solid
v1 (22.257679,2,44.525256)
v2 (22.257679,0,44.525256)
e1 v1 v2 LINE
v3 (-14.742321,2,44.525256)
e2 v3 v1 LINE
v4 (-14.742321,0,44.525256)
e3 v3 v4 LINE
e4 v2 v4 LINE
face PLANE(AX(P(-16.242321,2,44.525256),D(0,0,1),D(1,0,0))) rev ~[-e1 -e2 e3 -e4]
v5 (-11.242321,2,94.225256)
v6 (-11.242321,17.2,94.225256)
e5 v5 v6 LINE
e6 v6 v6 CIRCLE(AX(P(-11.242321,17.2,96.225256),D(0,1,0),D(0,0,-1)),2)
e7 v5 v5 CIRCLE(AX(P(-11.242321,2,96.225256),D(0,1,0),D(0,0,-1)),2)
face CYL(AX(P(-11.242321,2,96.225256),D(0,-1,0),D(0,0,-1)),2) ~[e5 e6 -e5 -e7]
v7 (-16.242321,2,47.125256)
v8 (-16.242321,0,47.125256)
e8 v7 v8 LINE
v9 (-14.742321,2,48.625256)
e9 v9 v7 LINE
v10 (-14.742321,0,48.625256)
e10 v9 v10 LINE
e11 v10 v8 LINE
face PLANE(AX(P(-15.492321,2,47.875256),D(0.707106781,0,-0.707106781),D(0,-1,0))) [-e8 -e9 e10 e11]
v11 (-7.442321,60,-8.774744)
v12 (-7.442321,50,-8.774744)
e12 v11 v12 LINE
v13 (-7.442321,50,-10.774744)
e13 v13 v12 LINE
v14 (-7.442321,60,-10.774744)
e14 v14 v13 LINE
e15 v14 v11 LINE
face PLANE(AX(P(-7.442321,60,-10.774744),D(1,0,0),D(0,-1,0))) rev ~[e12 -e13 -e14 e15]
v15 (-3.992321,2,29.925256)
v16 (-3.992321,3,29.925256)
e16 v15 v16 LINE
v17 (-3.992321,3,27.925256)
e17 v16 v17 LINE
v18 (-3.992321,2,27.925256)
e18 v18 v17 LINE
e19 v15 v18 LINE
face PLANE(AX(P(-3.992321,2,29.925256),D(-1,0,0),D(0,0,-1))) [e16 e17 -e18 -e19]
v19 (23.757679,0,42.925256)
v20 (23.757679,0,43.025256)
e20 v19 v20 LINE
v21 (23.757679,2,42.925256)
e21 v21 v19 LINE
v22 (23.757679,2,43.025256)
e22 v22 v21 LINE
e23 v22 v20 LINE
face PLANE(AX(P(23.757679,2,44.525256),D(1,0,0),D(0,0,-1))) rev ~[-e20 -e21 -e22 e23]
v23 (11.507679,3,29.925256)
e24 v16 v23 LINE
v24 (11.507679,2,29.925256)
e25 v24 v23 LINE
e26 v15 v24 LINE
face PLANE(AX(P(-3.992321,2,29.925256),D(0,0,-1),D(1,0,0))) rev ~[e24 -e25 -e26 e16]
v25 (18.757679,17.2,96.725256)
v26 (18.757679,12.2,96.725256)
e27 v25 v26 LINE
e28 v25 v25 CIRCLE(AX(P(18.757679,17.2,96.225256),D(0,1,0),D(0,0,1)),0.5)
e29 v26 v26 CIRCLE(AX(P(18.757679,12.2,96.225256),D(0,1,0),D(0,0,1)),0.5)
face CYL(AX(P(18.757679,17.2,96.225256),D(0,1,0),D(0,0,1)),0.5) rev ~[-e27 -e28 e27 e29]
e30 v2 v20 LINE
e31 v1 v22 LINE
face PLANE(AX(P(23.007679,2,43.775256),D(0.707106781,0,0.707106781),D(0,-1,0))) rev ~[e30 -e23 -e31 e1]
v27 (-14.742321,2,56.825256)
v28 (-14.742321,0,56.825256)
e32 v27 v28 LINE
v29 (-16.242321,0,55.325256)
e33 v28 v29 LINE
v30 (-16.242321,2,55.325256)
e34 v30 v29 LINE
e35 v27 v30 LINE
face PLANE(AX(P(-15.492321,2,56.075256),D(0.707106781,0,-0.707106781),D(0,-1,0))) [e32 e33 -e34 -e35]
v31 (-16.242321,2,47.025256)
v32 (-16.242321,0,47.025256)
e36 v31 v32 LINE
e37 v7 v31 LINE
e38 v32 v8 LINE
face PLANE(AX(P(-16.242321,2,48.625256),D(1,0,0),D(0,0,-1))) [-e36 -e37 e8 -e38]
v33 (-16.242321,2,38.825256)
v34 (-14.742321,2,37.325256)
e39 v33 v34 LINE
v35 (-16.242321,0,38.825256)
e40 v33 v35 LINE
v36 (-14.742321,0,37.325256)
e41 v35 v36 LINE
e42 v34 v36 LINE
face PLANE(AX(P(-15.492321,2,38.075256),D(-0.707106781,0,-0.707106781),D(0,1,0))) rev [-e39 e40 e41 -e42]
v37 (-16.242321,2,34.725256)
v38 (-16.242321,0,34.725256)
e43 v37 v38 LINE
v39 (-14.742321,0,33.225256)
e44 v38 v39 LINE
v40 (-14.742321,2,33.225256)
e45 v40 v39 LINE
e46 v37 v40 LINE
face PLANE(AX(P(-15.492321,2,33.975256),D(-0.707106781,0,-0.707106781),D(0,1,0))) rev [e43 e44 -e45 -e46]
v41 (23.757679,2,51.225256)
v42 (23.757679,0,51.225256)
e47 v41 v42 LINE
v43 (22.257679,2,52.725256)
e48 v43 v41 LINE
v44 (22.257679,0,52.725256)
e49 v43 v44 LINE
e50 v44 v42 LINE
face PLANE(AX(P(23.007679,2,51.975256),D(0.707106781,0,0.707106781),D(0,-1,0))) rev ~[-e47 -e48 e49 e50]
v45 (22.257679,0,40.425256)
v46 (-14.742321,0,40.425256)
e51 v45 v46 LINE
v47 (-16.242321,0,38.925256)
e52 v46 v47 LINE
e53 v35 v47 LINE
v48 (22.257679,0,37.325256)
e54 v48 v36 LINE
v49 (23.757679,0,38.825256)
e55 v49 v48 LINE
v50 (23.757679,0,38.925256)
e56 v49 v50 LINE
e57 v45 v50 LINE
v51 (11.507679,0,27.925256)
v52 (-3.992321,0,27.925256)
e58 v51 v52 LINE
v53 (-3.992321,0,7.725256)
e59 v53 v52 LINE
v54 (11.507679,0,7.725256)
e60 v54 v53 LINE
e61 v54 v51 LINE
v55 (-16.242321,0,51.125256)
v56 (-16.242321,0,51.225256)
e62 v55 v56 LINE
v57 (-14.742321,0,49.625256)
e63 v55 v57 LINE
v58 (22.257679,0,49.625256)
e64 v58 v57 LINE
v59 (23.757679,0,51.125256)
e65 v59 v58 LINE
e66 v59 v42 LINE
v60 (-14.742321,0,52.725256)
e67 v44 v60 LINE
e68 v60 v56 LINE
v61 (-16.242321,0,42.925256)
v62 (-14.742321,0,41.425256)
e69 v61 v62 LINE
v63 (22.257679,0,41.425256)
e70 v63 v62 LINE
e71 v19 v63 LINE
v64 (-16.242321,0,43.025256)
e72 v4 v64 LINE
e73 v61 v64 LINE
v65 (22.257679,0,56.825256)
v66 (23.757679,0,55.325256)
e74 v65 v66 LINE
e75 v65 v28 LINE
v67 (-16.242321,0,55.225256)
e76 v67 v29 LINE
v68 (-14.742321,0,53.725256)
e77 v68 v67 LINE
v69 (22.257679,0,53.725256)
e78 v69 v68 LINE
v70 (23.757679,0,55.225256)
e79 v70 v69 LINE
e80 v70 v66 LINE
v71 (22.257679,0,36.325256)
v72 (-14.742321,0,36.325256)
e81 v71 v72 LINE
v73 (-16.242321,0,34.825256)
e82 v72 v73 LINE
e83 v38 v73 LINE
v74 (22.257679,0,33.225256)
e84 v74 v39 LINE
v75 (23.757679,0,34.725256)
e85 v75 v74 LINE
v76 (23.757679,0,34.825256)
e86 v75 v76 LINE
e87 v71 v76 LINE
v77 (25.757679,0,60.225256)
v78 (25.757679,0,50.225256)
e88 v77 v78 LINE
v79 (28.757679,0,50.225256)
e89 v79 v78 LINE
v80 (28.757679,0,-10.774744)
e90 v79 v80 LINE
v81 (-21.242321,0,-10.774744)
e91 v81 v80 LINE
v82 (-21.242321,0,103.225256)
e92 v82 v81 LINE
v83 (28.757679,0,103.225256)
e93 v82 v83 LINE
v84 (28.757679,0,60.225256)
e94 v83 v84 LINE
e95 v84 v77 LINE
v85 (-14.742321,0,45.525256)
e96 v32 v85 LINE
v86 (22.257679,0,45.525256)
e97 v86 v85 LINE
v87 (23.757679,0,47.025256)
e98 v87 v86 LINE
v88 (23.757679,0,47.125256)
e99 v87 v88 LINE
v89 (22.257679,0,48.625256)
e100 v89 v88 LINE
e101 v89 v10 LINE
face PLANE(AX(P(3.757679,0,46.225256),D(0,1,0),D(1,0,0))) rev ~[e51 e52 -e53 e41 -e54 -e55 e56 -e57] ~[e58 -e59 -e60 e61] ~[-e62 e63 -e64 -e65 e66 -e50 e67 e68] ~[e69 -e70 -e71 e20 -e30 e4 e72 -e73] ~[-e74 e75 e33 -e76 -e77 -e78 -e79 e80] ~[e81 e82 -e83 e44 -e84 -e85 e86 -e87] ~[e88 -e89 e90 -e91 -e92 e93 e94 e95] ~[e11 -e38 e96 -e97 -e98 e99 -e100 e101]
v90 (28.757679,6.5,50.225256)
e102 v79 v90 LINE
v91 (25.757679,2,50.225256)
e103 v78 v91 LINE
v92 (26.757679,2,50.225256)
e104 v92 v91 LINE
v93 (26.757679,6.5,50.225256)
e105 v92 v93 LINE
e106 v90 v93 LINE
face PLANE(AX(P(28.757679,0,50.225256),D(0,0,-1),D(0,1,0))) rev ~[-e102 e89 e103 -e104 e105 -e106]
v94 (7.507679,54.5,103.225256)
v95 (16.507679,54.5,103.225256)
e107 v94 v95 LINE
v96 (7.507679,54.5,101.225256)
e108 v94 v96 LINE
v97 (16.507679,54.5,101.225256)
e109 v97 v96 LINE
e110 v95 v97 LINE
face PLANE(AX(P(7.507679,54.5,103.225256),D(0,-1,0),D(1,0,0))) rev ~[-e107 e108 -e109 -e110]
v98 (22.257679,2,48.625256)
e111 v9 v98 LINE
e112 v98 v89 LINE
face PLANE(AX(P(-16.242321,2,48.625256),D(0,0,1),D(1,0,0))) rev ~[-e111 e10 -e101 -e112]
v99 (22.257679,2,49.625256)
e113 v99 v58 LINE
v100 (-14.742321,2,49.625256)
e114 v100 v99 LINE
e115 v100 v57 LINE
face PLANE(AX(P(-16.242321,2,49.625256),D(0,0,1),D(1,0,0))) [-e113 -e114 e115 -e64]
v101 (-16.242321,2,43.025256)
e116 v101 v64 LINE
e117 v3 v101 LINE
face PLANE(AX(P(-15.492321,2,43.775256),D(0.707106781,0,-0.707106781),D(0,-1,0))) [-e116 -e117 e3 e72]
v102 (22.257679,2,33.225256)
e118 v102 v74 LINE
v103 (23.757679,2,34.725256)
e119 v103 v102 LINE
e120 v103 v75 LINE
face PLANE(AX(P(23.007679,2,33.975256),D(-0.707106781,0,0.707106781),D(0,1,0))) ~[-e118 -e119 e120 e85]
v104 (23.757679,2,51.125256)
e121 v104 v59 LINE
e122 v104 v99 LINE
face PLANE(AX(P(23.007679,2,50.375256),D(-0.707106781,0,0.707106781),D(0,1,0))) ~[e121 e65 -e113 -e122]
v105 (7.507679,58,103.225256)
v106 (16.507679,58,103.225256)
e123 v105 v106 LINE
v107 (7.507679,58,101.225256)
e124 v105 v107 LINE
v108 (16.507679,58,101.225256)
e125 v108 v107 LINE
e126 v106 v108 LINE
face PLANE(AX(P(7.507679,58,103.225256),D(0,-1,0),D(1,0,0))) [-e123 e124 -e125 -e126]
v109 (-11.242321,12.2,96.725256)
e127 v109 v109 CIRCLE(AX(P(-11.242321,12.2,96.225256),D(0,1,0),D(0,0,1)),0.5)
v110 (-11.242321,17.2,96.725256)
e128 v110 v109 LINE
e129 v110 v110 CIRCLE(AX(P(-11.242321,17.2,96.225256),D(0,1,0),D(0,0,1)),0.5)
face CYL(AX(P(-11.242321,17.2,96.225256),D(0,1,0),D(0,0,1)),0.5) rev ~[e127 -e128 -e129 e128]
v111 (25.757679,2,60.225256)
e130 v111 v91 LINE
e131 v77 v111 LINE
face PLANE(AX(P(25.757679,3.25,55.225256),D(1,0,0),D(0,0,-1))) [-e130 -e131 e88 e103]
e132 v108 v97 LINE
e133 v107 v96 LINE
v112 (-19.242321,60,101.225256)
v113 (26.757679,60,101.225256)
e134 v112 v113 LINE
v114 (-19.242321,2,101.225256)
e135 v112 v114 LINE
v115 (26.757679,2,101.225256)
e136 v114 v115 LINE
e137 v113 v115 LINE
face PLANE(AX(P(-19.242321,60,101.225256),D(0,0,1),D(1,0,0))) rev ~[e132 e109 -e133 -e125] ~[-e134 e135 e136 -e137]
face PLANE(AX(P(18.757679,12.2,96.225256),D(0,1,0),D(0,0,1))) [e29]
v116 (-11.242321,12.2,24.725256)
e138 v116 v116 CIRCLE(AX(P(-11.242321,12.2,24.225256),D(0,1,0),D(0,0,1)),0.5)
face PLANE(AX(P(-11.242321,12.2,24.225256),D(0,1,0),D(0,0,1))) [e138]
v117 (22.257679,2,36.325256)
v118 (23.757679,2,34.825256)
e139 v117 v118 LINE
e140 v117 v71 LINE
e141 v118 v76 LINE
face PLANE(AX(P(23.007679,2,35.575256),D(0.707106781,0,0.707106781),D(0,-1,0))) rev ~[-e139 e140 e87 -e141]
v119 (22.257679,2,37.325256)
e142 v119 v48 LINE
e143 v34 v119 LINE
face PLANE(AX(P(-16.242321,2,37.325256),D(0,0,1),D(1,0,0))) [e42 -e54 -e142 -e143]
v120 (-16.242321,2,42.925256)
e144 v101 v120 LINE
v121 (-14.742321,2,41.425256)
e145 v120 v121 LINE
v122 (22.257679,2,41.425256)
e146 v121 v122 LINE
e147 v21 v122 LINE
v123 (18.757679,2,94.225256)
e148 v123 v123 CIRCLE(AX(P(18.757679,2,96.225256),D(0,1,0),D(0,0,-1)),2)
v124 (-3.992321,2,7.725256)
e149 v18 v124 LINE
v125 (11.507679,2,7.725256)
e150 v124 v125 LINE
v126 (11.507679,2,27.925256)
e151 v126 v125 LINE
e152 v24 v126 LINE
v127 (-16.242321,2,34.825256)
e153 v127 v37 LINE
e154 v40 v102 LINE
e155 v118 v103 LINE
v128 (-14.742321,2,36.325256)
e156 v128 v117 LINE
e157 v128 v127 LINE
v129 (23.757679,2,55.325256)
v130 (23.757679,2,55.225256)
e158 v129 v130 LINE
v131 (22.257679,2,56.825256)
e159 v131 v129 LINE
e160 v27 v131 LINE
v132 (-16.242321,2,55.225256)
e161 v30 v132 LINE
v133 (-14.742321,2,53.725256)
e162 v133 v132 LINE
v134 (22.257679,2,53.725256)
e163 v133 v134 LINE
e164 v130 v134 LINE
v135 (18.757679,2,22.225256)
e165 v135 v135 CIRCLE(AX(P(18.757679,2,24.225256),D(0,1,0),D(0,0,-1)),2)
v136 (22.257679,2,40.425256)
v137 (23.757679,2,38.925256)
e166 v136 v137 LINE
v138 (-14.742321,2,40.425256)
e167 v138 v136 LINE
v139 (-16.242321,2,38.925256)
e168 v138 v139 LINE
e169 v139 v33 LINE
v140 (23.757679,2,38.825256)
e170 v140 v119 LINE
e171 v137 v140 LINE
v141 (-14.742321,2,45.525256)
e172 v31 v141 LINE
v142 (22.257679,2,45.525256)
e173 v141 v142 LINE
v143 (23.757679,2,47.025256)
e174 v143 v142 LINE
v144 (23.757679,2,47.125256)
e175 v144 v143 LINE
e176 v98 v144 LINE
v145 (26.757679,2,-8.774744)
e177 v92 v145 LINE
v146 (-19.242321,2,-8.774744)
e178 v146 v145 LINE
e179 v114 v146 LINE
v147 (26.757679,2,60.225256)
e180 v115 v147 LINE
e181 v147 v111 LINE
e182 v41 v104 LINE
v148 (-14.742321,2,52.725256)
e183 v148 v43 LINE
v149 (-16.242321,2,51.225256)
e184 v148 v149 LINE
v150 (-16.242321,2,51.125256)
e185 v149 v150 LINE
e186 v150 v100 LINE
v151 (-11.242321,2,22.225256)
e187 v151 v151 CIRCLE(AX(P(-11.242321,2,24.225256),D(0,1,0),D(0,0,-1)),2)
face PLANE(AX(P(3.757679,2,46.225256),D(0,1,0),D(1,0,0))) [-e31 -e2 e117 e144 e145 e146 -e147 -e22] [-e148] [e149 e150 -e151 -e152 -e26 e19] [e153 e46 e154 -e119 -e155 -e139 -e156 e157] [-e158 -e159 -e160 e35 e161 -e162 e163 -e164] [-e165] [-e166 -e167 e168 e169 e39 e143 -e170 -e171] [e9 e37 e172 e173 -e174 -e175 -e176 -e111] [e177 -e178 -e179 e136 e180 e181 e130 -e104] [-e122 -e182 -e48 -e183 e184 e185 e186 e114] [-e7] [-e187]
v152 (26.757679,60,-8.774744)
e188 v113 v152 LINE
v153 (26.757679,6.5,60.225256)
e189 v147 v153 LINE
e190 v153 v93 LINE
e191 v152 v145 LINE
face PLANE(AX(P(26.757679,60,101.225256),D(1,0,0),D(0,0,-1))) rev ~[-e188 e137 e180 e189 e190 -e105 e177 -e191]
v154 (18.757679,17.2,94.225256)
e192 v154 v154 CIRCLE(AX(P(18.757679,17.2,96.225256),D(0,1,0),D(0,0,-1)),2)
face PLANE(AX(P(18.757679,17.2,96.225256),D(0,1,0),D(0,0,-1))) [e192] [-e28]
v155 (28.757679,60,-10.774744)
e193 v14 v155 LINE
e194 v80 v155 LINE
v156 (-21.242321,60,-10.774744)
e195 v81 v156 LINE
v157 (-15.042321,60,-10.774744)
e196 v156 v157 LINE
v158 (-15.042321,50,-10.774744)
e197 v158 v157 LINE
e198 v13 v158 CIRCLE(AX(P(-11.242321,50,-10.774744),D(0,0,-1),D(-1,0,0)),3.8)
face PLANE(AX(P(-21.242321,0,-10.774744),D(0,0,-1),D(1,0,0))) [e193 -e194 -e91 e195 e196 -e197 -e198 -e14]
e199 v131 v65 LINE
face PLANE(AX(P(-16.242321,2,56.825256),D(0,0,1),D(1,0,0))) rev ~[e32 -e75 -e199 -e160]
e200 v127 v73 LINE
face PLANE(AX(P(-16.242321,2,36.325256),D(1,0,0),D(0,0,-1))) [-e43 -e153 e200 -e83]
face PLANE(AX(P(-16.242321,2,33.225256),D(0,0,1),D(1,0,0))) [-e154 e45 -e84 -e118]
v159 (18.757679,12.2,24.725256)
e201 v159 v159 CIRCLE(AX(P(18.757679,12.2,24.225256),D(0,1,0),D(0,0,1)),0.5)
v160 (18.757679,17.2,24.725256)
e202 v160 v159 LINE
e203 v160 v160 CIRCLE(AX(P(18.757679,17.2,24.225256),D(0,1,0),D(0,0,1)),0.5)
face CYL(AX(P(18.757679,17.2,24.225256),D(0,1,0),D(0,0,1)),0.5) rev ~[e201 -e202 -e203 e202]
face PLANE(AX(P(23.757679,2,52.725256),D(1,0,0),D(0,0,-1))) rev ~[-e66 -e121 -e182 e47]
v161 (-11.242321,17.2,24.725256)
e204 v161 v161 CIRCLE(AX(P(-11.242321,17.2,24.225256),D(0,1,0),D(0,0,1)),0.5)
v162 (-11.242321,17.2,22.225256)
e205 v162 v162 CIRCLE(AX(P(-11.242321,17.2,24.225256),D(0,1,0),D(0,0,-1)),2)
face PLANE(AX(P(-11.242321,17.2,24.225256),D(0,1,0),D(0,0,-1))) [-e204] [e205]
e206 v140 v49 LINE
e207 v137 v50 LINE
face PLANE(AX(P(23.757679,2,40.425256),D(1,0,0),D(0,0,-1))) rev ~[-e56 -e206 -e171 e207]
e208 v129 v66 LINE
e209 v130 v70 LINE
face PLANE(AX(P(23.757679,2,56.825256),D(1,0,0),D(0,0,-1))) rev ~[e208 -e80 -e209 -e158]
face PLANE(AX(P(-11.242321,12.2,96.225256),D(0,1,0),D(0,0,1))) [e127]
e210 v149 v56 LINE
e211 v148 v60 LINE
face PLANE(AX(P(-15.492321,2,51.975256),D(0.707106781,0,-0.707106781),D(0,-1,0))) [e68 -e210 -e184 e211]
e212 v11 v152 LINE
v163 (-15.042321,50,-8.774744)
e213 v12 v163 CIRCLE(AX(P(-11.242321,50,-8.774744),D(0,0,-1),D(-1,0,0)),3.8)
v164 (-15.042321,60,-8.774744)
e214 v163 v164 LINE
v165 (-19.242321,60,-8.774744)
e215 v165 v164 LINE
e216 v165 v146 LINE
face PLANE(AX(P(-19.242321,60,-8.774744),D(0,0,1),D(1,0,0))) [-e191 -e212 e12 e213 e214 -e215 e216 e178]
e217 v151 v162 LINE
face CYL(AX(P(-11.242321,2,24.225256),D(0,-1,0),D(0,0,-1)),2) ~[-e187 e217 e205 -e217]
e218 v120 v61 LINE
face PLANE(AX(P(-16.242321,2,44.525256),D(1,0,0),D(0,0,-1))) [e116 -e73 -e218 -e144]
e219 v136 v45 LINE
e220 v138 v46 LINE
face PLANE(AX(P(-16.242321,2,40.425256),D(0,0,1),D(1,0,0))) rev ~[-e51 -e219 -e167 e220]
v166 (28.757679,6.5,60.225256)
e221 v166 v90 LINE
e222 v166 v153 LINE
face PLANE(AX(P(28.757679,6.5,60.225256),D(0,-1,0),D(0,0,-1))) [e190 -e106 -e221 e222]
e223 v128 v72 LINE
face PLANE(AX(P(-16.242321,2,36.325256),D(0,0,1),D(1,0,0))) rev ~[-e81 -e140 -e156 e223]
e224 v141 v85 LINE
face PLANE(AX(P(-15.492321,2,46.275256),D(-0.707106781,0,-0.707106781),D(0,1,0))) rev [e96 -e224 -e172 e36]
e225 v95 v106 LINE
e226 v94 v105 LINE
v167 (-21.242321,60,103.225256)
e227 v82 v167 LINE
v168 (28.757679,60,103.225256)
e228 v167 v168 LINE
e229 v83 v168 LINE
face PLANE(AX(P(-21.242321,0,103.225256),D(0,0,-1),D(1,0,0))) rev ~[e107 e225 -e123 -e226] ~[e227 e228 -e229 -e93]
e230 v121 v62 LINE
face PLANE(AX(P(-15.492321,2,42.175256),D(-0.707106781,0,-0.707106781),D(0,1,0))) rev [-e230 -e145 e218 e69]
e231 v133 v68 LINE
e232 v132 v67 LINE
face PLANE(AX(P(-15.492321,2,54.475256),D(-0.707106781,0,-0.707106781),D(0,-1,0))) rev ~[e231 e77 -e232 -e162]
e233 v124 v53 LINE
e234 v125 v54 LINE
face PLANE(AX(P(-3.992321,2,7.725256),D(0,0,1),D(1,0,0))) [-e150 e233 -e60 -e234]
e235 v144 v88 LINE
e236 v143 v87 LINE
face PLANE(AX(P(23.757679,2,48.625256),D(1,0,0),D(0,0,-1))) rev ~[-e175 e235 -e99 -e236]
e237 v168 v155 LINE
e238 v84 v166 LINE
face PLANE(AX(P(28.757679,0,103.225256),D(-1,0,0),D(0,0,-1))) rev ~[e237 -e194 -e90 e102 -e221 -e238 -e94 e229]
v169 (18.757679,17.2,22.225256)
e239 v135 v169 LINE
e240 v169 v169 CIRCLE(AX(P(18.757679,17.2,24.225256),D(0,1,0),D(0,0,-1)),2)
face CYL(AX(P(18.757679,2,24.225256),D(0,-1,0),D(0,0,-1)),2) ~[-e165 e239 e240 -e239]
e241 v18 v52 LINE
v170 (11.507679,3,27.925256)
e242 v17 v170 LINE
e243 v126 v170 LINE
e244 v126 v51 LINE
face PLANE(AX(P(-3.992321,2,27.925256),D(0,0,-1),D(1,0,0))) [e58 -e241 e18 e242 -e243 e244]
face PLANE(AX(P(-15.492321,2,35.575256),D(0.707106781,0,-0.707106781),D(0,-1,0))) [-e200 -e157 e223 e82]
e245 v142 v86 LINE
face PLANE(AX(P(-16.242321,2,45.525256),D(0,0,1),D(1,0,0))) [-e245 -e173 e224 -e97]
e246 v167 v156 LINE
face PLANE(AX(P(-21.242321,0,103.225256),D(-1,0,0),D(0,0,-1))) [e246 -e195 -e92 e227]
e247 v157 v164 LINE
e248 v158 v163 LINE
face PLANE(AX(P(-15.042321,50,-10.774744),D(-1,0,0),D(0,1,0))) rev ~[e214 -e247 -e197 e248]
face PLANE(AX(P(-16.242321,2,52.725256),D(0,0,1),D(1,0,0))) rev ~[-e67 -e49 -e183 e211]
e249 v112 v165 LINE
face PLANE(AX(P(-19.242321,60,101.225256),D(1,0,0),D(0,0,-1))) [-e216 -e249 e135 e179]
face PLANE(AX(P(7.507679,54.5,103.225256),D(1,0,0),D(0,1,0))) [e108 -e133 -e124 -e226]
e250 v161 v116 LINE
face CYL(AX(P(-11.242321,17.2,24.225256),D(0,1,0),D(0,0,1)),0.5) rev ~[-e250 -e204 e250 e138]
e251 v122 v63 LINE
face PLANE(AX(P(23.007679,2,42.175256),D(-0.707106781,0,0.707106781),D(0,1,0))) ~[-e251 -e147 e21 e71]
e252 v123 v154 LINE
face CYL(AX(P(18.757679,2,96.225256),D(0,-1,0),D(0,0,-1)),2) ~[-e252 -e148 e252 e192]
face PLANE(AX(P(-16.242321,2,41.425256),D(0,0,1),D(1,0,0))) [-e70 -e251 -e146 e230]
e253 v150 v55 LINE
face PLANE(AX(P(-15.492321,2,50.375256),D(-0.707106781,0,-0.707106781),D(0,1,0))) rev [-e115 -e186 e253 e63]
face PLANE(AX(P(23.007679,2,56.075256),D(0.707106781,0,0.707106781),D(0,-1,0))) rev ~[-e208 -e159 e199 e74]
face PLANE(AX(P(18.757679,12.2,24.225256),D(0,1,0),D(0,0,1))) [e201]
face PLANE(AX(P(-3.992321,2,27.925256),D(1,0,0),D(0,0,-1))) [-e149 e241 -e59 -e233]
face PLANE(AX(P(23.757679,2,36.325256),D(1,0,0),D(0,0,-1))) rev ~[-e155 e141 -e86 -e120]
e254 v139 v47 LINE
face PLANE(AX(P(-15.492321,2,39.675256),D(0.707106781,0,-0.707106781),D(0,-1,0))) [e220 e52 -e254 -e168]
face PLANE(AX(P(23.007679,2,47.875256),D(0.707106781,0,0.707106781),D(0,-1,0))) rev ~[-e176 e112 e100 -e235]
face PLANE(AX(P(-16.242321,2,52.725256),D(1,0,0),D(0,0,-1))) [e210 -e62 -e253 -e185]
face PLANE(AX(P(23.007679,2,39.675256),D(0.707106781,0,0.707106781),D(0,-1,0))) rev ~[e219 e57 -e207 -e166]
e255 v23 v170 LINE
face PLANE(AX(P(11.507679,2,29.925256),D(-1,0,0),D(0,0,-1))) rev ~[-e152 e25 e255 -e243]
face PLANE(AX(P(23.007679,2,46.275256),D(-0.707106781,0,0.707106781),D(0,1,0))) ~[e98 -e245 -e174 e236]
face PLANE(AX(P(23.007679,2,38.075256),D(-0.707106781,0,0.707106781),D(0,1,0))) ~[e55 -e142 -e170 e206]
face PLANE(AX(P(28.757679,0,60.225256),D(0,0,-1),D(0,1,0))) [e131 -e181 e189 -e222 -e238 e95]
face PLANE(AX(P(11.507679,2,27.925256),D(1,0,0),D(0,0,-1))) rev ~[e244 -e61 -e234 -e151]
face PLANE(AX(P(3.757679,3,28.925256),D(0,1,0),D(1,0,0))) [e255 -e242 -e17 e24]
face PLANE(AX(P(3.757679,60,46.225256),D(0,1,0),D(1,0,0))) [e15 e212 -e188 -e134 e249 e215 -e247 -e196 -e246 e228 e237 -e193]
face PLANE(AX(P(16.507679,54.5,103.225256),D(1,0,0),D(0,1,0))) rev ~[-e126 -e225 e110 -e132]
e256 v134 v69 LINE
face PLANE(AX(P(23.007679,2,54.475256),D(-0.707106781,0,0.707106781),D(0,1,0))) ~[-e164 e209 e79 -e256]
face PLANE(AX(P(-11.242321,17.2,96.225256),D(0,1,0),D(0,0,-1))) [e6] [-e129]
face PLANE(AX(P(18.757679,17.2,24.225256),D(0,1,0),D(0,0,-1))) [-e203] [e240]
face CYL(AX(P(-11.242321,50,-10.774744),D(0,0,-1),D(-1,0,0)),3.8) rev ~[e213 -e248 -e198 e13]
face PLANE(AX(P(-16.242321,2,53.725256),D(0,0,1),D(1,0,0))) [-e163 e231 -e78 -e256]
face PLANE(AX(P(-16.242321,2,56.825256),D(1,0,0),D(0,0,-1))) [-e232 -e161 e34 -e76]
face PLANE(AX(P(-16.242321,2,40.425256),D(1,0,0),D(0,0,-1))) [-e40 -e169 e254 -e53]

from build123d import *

# Parameters (mm, degrees)
SKIZZE1_W                       = 50
SKIZZE1_H                       = 114
AUFSATZ_LINEAR_AUSTRAGEN1_DEPTH = 60
SKIZZE2_W                       = 46
SKIZZE2_H                       = 110
SCHNITT_LINEAR_AUSTRAGEN1_DEPTH = 58
SKIZZE3_R                       = 2
AUFSATZ_LINEAR_AUSTRAGEN2_DEPTH = 15.2
SKIZZE4_R                       = 0.5
SCHNITT_LINEAR_AUSTRAGEN2_DEPTH = 5
SCHNITT_LINEAR_AUSTRAGEN3_REACH = 123.846
SKIZZE5_W                       = 15.5
SKIZZE5_H                       = 20.2
SKIZZE6_W                       = 15.5
SKIZZE6_H                       = 2
AUFSATZ_LINEAR_AUSTRAGEN3_DEPTH = 1
SCHNITT_LINEAR_AUSTRAGEN4_REACH = 123.846
SKIZZE7_W                       = 40
SKIZZE7_H                       = 3.1
FASE1_SIZE                      = 1.5
SKIZZE8_W                       = 10
SKIZZE8_H                       = 6.5
SCHNITT_LINEAR_AUSTRAGEN5_DEPTH = 3
SCHNITT_LINEAR_AUSTRAGEN6_REACH = 133.996
SKIZZE9_R                       = 3.8
SCHNITT_LINEAR_AUSTRAGEN7_REACH = 133.996
SKIZZE10_W                      = 9
SKIZZE10_H                      = 3.5


with BuildPart() as part:
    # Skizze1 → Aufsatz-Linear austragen1 (new body)
    with BuildSketch(Plane(origin=(0, 0, 0), x_dir=(1, 0, 0), z_dir=(0, 1, 0))):
        with Locations((3.757679181, -46.225255973)):
            Rectangle(SKIZZE1_W, SKIZZE1_H)
    extrude(amount=AUFSATZ_LINEAR_AUSTRAGEN1_DEPTH)

    # Skizze2 → Schnitt-Linear austragen1 (cut)
    with BuildSketch(Plane(origin=(0, 60, 0), x_dir=(1, 0, 0), z_dir=(0, 1, 0))):
        with Locations((3.757679181, -46.225255973)):
            Rectangle(SKIZZE2_W, SKIZZE2_H)
    extrude(amount=-SCHNITT_LINEAR_AUSTRAGEN1_DEPTH, mode=Mode.SUBTRACT)

    # Skizze3 → Aufsatz-Linear austragen2 (add)
    with BuildSketch(Plane(origin=(0, 2, 0), x_dir=(1, 0, 0), z_dir=(0, 1, 0))):
        with Locations(Location((-11.242320819, -24.225255973, 0), (0, 0, 90))):
            Circle(SKIZZE3_R)
        with Locations(Location((18.757679181, -24.225255973, 0), (0, 0, 90))):
            Circle(SKIZZE3_R)
        with Locations(Location((18.757679181, -96.225255973, 0), (0, 0, 90))):
            Circle(SKIZZE3_R)
        with Locations(Location((-11.242320819, -96.225255973, 0), (0, 0, 90))):
            Circle(SKIZZE3_R)
    extrude(amount=AUFSATZ_LINEAR_AUSTRAGEN2_DEPTH)

    # Skizze4 → Schnitt-Linear austragen2 (cut)
    with BuildSketch(Plane(origin=(0, 17.2, 0), x_dir=(1, 0, 0), z_dir=(0, 1, 0))):
        with Locations(Location((-11.242320819, -24.225255973, 0), (0, 0, 270))):
            Circle(SKIZZE4_R)
        with Locations(Location((18.757679181, -24.225255973, 0), (0, 0, 270))):
            Circle(SKIZZE4_R)
        with Locations(Location((18.757679181, -96.225255973, 0), (0, 0, 270))):
            Circle(SKIZZE4_R)
        with Locations(Location((-11.242320819, -96.225255973, 0), (0, 0, 270))):
            Circle(SKIZZE4_R)
    extrude(amount=-SCHNITT_LINEAR_AUSTRAGEN2_DEPTH, mode=Mode.SUBTRACT)

    # Skizze5 → Schnitt-Linear austragen3 (cut, up to next)
    with BuildSketch(Plane(origin=(0, 2, 0), x_dir=(1, 0, 0), z_dir=(0, 1, 0)), mode=Mode.PRIVATE) as schnitt_linear_austragen3_sk1:
        with Locations((3.757679181, -17.825255973)):
            Rectangle(SKIZZE5_W, SKIZZE5_H)
    schnitt_linear_austragen3_tool1 = extrude(schnitt_linear_austragen3_sk1.sketch, amount=-SCHNITT_LINEAR_AUSTRAGEN3_REACH, mode=Mode.PRIVATE) & part.part
    add(schnitt_linear_austragen3_tool1.solids().sort_by_distance((3.757679, 2, 17.825256))[0], mode=Mode.SUBTRACT)

    # Skizze6 → Aufsatz-Linear austragen3 (add)
    with BuildSketch(Plane(origin=(0, 2, 0), x_dir=(1, 0, 0), z_dir=(0, 1, 0))):
        with Locations((3.757679181, -28.925255973)):
            Rectangle(SKIZZE6_W, SKIZZE6_H)
    extrude(amount=AUFSATZ_LINEAR_AUSTRAGEN3_DEPTH)

    # Skizze7 → Schnitt-Linear austragen4 (cut, up to next)
    with BuildSketch(Plane(origin=(0, 2, 0), x_dir=(1, 0, 0), z_dir=(0, 1, 0)), mode=Mode.PRIVATE) as schnitt_linear_austragen4_sk1:
        with Locations((3.757679181, -34.775255973)):
            Rectangle(SKIZZE7_W, SKIZZE7_H)
    schnitt_linear_austragen4_tool1 = extrude(schnitt_linear_austragen4_sk1.sketch, amount=-SCHNITT_LINEAR_AUSTRAGEN4_REACH, mode=Mode.PRIVATE) & part.part
    # Skizze7 → Schnitt-Linear austragen4 (cut, up to next)
    with BuildSketch(Plane(origin=(0, 2, 0), x_dir=(1, 0, 0), z_dir=(0, 1, 0)), mode=Mode.PRIVATE) as schnitt_linear_austragen4_sk2:
        with Locations((3.757679181, -38.875255973)):
            Rectangle(SKIZZE7_W, SKIZZE7_H)
    schnitt_linear_austragen4_tool2 = extrude(schnitt_linear_austragen4_sk2.sketch, amount=-SCHNITT_LINEAR_AUSTRAGEN4_REACH, mode=Mode.PRIVATE) & part.part
    # Skizze7 → Schnitt-Linear austragen4 (cut, up to next)
    with BuildSketch(Plane(origin=(0, 2, 0), x_dir=(1, 0, 0), z_dir=(0, 1, 0)), mode=Mode.PRIVATE) as schnitt_linear_austragen4_sk3:
        with Locations((3.757679181, -42.975255973)):
            Rectangle(SKIZZE7_W, SKIZZE7_H)
    schnitt_linear_austragen4_tool3 = extrude(schnitt_linear_austragen4_sk3.sketch, amount=-SCHNITT_LINEAR_AUSTRAGEN4_REACH, mode=Mode.PRIVATE) & part.part
    # Skizze7 → Schnitt-Linear austragen4 (cut, up to next)
    with BuildSketch(Plane(origin=(0, 2, 0), x_dir=(1, 0, 0), z_dir=(0, 1, 0)), mode=Mode.PRIVATE) as schnitt_linear_austragen4_sk4:
        with Locations((3.757679181, -47.075255973)):
            Rectangle(SKIZZE7_W, SKIZZE7_H)
    schnitt_linear_austragen4_tool4 = extrude(schnitt_linear_austragen4_sk4.sketch, amount=-SCHNITT_LINEAR_AUSTRAGEN4_REACH, mode=Mode.PRIVATE) & part.part
    # Skizze7 → Schnitt-Linear austragen4 (cut, up to next)
    with BuildSketch(Plane(origin=(0, 2, 0), x_dir=(1, 0, 0), z_dir=(0, 1, 0)), mode=Mode.PRIVATE) as schnitt_linear_austragen4_sk5:
        with Locations((3.757679181, -51.175255973)):
            Rectangle(SKIZZE7_W, SKIZZE7_H)
    schnitt_linear_austragen4_tool5 = extrude(schnitt_linear_austragen4_sk5.sketch, amount=-SCHNITT_LINEAR_AUSTRAGEN4_REACH, mode=Mode.PRIVATE) & part.part
    # Skizze7 → Schnitt-Linear austragen4 (cut, up to next)
    with BuildSketch(Plane(origin=(0, 2, 0), x_dir=(1, 0, 0), z_dir=(0, 1, 0)), mode=Mode.PRIVATE) as schnitt_linear_austragen4_sk6:
        with Locations((3.757679181, -55.275255973)):
            Rectangle(SKIZZE7_W, SKIZZE7_H)
    schnitt_linear_austragen4_tool6 = extrude(schnitt_linear_austragen4_sk6.sketch, amount=-SCHNITT_LINEAR_AUSTRAGEN4_REACH, mode=Mode.PRIVATE) & part.part
    add(schnitt_linear_austragen4_tool1.solids().sort_by_distance((3.757679, 2, 34.775256))[0], mode=Mode.SUBTRACT)
    add(schnitt_linear_austragen4_tool2.solids().sort_by_distance((3.757679, 2, 38.875256))[0], mode=Mode.SUBTRACT)
    add(schnitt_linear_austragen4_tool3.solids().sort_by_distance((3.757679, 2, 42.975256))[0], mode=Mode.SUBTRACT)
    add(schnitt_linear_austragen4_tool4.solids().sort_by_distance((3.757679, 2, 47.075256))[0], mode=Mode.SUBTRACT)
    add(schnitt_linear_austragen4_tool5.solids().sort_by_distance((3.757679, 2, 51.175256))[0], mode=Mode.SUBTRACT)
    add(schnitt_linear_austragen4_tool6.solids().sort_by_distance((3.757679, 2, 55.275256))[0], mode=Mode.SUBTRACT)

    # Fase1
    fase1_edges = [part.edges().sort_by_distance(p)[0] for p in [
        (-16.242320819, 1, 36.325255973),
        (-16.242320819, 1, 33.225255973),
        (23.757679181, 1, 33.225255973),
        (23.757679181, 1, 36.325255973),
        (-16.242320819, 1, 37.325255973),
        (23.757679181, 1, 37.325255973),
        (23.757679181, 1, 40.425255973),
        (-16.242320819, 1, 40.425255973),
        (-16.242320819, 1, 41.425255973),
        (23.757679181, 1, 41.425255973),
        (23.757679181, 1, 44.525255973),
        (-16.242320819, 1, 44.525255973),
        (-16.242320819, 1, 45.525255973),
        (23.757679181, 1, 45.525255973),
        (23.757679181, 1, 48.625255973),
        (-16.242320819, 1, 48.625255973),
        (-16.242320819, 1, 49.625255973),
        (23.757679181, 1, 49.625255973),
        (23.757679181, 1, 52.725255973),
        (-16.242320819, 1, 52.725255973),
        (-16.242320819, 1, 53.725255973),
        (23.757679181, 1, 53.725255973),
        (23.757679181, 1, 56.825255973),
        (-16.242320819, 1, 56.825255973),
    ]]
    chamfer(fase1_edges, length=FASE1_SIZE)

    # Skizze8 → Schnitt-Linear austragen5 (cut)
    with BuildSketch(Plane(origin=(28.757679181, 0, 0), x_dir=(0, 0, -1), z_dir=(1, 0, 0))):
        with Locations((-55.225255973, 3.25)):
            Rectangle(SKIZZE8_W, SKIZZE8_H)
    extrude(amount=-SCHNITT_LINEAR_AUSTRAGEN5_DEPTH, mode=Mode.SUBTRACT)

    # Skizze9 → Schnitt-Linear austragen6 (cut, up to next)
    with BuildSketch(Plane(origin=(0, 0, -10.774744027), x_dir=(-1, 0, 0), z_dir=(0, 0, -1)), mode=Mode.PRIVATE) as schnitt_linear_austragen6_sk1:
        with BuildLine():
            Line((7.442320819, 60), (7.442320819, 50))
            ThreePointArc((7.442320819, 50), (11.242320819, 53.8), (15.042320819, 50))
            Line((15.042320819, 50), (15.042320819, 60))
            Line((15.042320819, 60), (7.442320819, 60))
        make_face()
    schnitt_linear_austragen6_tool1 = extrude(schnitt_linear_austragen6_sk1.sketch, amount=-SCHNITT_LINEAR_AUSTRAGEN6_REACH, mode=Mode.PRIVATE) & part.part
    # Skizze9 → Schnitt-Linear austragen6 (cut, up to next)
    with BuildSketch(Plane(origin=(0, 0, -10.774744027), x_dir=(-1, 0, 0), z_dir=(0, 0, -1)), mode=Mode.PRIVATE) as schnitt_linear_austragen6_sk2:
        with Locations((11.242320819, 50)):
            Circle(SKIZZE9_R)
    schnitt_linear_austragen6_tool2 = extrude(schnitt_linear_austragen6_sk2.sketch, amount=-SCHNITT_LINEAR_AUSTRAGEN6_REACH, mode=Mode.PRIVATE) & part.part
    add(schnitt_linear_austragen6_tool1.solids().sort_by_distance((-11.242321, 56.440988, -10.774744))[0], mode=Mode.SUBTRACT)
    add(schnitt_linear_austragen6_tool2.solids().sort_by_distance((-11.242321, 50, -10.774744))[0], mode=Mode.SUBTRACT)

    # Skizze10 → Schnitt-Linear austragen7 (cut, up to next)
    with BuildSketch(Plane.XY.offset(103.225255973), mode=Mode.PRIVATE) as schnitt_linear_austragen7_sk1:
        with Locations((12.007679181, 56.25)):
            Rectangle(SKIZZE10_W, SKIZZE10_H)
    schnitt_linear_austragen7_tool1 = extrude(schnitt_linear_austragen7_sk1.sketch, amount=-SCHNITT_LINEAR_AUSTRAGEN7_REACH, mode=Mode.PRIVATE) & part.part
    add(schnitt_linear_austragen7_tool1.solids().sort_by_distance((12.007679, 56.25, 103.225256))[0], mode=Mode.SUBTRACT)


solid = part.part
